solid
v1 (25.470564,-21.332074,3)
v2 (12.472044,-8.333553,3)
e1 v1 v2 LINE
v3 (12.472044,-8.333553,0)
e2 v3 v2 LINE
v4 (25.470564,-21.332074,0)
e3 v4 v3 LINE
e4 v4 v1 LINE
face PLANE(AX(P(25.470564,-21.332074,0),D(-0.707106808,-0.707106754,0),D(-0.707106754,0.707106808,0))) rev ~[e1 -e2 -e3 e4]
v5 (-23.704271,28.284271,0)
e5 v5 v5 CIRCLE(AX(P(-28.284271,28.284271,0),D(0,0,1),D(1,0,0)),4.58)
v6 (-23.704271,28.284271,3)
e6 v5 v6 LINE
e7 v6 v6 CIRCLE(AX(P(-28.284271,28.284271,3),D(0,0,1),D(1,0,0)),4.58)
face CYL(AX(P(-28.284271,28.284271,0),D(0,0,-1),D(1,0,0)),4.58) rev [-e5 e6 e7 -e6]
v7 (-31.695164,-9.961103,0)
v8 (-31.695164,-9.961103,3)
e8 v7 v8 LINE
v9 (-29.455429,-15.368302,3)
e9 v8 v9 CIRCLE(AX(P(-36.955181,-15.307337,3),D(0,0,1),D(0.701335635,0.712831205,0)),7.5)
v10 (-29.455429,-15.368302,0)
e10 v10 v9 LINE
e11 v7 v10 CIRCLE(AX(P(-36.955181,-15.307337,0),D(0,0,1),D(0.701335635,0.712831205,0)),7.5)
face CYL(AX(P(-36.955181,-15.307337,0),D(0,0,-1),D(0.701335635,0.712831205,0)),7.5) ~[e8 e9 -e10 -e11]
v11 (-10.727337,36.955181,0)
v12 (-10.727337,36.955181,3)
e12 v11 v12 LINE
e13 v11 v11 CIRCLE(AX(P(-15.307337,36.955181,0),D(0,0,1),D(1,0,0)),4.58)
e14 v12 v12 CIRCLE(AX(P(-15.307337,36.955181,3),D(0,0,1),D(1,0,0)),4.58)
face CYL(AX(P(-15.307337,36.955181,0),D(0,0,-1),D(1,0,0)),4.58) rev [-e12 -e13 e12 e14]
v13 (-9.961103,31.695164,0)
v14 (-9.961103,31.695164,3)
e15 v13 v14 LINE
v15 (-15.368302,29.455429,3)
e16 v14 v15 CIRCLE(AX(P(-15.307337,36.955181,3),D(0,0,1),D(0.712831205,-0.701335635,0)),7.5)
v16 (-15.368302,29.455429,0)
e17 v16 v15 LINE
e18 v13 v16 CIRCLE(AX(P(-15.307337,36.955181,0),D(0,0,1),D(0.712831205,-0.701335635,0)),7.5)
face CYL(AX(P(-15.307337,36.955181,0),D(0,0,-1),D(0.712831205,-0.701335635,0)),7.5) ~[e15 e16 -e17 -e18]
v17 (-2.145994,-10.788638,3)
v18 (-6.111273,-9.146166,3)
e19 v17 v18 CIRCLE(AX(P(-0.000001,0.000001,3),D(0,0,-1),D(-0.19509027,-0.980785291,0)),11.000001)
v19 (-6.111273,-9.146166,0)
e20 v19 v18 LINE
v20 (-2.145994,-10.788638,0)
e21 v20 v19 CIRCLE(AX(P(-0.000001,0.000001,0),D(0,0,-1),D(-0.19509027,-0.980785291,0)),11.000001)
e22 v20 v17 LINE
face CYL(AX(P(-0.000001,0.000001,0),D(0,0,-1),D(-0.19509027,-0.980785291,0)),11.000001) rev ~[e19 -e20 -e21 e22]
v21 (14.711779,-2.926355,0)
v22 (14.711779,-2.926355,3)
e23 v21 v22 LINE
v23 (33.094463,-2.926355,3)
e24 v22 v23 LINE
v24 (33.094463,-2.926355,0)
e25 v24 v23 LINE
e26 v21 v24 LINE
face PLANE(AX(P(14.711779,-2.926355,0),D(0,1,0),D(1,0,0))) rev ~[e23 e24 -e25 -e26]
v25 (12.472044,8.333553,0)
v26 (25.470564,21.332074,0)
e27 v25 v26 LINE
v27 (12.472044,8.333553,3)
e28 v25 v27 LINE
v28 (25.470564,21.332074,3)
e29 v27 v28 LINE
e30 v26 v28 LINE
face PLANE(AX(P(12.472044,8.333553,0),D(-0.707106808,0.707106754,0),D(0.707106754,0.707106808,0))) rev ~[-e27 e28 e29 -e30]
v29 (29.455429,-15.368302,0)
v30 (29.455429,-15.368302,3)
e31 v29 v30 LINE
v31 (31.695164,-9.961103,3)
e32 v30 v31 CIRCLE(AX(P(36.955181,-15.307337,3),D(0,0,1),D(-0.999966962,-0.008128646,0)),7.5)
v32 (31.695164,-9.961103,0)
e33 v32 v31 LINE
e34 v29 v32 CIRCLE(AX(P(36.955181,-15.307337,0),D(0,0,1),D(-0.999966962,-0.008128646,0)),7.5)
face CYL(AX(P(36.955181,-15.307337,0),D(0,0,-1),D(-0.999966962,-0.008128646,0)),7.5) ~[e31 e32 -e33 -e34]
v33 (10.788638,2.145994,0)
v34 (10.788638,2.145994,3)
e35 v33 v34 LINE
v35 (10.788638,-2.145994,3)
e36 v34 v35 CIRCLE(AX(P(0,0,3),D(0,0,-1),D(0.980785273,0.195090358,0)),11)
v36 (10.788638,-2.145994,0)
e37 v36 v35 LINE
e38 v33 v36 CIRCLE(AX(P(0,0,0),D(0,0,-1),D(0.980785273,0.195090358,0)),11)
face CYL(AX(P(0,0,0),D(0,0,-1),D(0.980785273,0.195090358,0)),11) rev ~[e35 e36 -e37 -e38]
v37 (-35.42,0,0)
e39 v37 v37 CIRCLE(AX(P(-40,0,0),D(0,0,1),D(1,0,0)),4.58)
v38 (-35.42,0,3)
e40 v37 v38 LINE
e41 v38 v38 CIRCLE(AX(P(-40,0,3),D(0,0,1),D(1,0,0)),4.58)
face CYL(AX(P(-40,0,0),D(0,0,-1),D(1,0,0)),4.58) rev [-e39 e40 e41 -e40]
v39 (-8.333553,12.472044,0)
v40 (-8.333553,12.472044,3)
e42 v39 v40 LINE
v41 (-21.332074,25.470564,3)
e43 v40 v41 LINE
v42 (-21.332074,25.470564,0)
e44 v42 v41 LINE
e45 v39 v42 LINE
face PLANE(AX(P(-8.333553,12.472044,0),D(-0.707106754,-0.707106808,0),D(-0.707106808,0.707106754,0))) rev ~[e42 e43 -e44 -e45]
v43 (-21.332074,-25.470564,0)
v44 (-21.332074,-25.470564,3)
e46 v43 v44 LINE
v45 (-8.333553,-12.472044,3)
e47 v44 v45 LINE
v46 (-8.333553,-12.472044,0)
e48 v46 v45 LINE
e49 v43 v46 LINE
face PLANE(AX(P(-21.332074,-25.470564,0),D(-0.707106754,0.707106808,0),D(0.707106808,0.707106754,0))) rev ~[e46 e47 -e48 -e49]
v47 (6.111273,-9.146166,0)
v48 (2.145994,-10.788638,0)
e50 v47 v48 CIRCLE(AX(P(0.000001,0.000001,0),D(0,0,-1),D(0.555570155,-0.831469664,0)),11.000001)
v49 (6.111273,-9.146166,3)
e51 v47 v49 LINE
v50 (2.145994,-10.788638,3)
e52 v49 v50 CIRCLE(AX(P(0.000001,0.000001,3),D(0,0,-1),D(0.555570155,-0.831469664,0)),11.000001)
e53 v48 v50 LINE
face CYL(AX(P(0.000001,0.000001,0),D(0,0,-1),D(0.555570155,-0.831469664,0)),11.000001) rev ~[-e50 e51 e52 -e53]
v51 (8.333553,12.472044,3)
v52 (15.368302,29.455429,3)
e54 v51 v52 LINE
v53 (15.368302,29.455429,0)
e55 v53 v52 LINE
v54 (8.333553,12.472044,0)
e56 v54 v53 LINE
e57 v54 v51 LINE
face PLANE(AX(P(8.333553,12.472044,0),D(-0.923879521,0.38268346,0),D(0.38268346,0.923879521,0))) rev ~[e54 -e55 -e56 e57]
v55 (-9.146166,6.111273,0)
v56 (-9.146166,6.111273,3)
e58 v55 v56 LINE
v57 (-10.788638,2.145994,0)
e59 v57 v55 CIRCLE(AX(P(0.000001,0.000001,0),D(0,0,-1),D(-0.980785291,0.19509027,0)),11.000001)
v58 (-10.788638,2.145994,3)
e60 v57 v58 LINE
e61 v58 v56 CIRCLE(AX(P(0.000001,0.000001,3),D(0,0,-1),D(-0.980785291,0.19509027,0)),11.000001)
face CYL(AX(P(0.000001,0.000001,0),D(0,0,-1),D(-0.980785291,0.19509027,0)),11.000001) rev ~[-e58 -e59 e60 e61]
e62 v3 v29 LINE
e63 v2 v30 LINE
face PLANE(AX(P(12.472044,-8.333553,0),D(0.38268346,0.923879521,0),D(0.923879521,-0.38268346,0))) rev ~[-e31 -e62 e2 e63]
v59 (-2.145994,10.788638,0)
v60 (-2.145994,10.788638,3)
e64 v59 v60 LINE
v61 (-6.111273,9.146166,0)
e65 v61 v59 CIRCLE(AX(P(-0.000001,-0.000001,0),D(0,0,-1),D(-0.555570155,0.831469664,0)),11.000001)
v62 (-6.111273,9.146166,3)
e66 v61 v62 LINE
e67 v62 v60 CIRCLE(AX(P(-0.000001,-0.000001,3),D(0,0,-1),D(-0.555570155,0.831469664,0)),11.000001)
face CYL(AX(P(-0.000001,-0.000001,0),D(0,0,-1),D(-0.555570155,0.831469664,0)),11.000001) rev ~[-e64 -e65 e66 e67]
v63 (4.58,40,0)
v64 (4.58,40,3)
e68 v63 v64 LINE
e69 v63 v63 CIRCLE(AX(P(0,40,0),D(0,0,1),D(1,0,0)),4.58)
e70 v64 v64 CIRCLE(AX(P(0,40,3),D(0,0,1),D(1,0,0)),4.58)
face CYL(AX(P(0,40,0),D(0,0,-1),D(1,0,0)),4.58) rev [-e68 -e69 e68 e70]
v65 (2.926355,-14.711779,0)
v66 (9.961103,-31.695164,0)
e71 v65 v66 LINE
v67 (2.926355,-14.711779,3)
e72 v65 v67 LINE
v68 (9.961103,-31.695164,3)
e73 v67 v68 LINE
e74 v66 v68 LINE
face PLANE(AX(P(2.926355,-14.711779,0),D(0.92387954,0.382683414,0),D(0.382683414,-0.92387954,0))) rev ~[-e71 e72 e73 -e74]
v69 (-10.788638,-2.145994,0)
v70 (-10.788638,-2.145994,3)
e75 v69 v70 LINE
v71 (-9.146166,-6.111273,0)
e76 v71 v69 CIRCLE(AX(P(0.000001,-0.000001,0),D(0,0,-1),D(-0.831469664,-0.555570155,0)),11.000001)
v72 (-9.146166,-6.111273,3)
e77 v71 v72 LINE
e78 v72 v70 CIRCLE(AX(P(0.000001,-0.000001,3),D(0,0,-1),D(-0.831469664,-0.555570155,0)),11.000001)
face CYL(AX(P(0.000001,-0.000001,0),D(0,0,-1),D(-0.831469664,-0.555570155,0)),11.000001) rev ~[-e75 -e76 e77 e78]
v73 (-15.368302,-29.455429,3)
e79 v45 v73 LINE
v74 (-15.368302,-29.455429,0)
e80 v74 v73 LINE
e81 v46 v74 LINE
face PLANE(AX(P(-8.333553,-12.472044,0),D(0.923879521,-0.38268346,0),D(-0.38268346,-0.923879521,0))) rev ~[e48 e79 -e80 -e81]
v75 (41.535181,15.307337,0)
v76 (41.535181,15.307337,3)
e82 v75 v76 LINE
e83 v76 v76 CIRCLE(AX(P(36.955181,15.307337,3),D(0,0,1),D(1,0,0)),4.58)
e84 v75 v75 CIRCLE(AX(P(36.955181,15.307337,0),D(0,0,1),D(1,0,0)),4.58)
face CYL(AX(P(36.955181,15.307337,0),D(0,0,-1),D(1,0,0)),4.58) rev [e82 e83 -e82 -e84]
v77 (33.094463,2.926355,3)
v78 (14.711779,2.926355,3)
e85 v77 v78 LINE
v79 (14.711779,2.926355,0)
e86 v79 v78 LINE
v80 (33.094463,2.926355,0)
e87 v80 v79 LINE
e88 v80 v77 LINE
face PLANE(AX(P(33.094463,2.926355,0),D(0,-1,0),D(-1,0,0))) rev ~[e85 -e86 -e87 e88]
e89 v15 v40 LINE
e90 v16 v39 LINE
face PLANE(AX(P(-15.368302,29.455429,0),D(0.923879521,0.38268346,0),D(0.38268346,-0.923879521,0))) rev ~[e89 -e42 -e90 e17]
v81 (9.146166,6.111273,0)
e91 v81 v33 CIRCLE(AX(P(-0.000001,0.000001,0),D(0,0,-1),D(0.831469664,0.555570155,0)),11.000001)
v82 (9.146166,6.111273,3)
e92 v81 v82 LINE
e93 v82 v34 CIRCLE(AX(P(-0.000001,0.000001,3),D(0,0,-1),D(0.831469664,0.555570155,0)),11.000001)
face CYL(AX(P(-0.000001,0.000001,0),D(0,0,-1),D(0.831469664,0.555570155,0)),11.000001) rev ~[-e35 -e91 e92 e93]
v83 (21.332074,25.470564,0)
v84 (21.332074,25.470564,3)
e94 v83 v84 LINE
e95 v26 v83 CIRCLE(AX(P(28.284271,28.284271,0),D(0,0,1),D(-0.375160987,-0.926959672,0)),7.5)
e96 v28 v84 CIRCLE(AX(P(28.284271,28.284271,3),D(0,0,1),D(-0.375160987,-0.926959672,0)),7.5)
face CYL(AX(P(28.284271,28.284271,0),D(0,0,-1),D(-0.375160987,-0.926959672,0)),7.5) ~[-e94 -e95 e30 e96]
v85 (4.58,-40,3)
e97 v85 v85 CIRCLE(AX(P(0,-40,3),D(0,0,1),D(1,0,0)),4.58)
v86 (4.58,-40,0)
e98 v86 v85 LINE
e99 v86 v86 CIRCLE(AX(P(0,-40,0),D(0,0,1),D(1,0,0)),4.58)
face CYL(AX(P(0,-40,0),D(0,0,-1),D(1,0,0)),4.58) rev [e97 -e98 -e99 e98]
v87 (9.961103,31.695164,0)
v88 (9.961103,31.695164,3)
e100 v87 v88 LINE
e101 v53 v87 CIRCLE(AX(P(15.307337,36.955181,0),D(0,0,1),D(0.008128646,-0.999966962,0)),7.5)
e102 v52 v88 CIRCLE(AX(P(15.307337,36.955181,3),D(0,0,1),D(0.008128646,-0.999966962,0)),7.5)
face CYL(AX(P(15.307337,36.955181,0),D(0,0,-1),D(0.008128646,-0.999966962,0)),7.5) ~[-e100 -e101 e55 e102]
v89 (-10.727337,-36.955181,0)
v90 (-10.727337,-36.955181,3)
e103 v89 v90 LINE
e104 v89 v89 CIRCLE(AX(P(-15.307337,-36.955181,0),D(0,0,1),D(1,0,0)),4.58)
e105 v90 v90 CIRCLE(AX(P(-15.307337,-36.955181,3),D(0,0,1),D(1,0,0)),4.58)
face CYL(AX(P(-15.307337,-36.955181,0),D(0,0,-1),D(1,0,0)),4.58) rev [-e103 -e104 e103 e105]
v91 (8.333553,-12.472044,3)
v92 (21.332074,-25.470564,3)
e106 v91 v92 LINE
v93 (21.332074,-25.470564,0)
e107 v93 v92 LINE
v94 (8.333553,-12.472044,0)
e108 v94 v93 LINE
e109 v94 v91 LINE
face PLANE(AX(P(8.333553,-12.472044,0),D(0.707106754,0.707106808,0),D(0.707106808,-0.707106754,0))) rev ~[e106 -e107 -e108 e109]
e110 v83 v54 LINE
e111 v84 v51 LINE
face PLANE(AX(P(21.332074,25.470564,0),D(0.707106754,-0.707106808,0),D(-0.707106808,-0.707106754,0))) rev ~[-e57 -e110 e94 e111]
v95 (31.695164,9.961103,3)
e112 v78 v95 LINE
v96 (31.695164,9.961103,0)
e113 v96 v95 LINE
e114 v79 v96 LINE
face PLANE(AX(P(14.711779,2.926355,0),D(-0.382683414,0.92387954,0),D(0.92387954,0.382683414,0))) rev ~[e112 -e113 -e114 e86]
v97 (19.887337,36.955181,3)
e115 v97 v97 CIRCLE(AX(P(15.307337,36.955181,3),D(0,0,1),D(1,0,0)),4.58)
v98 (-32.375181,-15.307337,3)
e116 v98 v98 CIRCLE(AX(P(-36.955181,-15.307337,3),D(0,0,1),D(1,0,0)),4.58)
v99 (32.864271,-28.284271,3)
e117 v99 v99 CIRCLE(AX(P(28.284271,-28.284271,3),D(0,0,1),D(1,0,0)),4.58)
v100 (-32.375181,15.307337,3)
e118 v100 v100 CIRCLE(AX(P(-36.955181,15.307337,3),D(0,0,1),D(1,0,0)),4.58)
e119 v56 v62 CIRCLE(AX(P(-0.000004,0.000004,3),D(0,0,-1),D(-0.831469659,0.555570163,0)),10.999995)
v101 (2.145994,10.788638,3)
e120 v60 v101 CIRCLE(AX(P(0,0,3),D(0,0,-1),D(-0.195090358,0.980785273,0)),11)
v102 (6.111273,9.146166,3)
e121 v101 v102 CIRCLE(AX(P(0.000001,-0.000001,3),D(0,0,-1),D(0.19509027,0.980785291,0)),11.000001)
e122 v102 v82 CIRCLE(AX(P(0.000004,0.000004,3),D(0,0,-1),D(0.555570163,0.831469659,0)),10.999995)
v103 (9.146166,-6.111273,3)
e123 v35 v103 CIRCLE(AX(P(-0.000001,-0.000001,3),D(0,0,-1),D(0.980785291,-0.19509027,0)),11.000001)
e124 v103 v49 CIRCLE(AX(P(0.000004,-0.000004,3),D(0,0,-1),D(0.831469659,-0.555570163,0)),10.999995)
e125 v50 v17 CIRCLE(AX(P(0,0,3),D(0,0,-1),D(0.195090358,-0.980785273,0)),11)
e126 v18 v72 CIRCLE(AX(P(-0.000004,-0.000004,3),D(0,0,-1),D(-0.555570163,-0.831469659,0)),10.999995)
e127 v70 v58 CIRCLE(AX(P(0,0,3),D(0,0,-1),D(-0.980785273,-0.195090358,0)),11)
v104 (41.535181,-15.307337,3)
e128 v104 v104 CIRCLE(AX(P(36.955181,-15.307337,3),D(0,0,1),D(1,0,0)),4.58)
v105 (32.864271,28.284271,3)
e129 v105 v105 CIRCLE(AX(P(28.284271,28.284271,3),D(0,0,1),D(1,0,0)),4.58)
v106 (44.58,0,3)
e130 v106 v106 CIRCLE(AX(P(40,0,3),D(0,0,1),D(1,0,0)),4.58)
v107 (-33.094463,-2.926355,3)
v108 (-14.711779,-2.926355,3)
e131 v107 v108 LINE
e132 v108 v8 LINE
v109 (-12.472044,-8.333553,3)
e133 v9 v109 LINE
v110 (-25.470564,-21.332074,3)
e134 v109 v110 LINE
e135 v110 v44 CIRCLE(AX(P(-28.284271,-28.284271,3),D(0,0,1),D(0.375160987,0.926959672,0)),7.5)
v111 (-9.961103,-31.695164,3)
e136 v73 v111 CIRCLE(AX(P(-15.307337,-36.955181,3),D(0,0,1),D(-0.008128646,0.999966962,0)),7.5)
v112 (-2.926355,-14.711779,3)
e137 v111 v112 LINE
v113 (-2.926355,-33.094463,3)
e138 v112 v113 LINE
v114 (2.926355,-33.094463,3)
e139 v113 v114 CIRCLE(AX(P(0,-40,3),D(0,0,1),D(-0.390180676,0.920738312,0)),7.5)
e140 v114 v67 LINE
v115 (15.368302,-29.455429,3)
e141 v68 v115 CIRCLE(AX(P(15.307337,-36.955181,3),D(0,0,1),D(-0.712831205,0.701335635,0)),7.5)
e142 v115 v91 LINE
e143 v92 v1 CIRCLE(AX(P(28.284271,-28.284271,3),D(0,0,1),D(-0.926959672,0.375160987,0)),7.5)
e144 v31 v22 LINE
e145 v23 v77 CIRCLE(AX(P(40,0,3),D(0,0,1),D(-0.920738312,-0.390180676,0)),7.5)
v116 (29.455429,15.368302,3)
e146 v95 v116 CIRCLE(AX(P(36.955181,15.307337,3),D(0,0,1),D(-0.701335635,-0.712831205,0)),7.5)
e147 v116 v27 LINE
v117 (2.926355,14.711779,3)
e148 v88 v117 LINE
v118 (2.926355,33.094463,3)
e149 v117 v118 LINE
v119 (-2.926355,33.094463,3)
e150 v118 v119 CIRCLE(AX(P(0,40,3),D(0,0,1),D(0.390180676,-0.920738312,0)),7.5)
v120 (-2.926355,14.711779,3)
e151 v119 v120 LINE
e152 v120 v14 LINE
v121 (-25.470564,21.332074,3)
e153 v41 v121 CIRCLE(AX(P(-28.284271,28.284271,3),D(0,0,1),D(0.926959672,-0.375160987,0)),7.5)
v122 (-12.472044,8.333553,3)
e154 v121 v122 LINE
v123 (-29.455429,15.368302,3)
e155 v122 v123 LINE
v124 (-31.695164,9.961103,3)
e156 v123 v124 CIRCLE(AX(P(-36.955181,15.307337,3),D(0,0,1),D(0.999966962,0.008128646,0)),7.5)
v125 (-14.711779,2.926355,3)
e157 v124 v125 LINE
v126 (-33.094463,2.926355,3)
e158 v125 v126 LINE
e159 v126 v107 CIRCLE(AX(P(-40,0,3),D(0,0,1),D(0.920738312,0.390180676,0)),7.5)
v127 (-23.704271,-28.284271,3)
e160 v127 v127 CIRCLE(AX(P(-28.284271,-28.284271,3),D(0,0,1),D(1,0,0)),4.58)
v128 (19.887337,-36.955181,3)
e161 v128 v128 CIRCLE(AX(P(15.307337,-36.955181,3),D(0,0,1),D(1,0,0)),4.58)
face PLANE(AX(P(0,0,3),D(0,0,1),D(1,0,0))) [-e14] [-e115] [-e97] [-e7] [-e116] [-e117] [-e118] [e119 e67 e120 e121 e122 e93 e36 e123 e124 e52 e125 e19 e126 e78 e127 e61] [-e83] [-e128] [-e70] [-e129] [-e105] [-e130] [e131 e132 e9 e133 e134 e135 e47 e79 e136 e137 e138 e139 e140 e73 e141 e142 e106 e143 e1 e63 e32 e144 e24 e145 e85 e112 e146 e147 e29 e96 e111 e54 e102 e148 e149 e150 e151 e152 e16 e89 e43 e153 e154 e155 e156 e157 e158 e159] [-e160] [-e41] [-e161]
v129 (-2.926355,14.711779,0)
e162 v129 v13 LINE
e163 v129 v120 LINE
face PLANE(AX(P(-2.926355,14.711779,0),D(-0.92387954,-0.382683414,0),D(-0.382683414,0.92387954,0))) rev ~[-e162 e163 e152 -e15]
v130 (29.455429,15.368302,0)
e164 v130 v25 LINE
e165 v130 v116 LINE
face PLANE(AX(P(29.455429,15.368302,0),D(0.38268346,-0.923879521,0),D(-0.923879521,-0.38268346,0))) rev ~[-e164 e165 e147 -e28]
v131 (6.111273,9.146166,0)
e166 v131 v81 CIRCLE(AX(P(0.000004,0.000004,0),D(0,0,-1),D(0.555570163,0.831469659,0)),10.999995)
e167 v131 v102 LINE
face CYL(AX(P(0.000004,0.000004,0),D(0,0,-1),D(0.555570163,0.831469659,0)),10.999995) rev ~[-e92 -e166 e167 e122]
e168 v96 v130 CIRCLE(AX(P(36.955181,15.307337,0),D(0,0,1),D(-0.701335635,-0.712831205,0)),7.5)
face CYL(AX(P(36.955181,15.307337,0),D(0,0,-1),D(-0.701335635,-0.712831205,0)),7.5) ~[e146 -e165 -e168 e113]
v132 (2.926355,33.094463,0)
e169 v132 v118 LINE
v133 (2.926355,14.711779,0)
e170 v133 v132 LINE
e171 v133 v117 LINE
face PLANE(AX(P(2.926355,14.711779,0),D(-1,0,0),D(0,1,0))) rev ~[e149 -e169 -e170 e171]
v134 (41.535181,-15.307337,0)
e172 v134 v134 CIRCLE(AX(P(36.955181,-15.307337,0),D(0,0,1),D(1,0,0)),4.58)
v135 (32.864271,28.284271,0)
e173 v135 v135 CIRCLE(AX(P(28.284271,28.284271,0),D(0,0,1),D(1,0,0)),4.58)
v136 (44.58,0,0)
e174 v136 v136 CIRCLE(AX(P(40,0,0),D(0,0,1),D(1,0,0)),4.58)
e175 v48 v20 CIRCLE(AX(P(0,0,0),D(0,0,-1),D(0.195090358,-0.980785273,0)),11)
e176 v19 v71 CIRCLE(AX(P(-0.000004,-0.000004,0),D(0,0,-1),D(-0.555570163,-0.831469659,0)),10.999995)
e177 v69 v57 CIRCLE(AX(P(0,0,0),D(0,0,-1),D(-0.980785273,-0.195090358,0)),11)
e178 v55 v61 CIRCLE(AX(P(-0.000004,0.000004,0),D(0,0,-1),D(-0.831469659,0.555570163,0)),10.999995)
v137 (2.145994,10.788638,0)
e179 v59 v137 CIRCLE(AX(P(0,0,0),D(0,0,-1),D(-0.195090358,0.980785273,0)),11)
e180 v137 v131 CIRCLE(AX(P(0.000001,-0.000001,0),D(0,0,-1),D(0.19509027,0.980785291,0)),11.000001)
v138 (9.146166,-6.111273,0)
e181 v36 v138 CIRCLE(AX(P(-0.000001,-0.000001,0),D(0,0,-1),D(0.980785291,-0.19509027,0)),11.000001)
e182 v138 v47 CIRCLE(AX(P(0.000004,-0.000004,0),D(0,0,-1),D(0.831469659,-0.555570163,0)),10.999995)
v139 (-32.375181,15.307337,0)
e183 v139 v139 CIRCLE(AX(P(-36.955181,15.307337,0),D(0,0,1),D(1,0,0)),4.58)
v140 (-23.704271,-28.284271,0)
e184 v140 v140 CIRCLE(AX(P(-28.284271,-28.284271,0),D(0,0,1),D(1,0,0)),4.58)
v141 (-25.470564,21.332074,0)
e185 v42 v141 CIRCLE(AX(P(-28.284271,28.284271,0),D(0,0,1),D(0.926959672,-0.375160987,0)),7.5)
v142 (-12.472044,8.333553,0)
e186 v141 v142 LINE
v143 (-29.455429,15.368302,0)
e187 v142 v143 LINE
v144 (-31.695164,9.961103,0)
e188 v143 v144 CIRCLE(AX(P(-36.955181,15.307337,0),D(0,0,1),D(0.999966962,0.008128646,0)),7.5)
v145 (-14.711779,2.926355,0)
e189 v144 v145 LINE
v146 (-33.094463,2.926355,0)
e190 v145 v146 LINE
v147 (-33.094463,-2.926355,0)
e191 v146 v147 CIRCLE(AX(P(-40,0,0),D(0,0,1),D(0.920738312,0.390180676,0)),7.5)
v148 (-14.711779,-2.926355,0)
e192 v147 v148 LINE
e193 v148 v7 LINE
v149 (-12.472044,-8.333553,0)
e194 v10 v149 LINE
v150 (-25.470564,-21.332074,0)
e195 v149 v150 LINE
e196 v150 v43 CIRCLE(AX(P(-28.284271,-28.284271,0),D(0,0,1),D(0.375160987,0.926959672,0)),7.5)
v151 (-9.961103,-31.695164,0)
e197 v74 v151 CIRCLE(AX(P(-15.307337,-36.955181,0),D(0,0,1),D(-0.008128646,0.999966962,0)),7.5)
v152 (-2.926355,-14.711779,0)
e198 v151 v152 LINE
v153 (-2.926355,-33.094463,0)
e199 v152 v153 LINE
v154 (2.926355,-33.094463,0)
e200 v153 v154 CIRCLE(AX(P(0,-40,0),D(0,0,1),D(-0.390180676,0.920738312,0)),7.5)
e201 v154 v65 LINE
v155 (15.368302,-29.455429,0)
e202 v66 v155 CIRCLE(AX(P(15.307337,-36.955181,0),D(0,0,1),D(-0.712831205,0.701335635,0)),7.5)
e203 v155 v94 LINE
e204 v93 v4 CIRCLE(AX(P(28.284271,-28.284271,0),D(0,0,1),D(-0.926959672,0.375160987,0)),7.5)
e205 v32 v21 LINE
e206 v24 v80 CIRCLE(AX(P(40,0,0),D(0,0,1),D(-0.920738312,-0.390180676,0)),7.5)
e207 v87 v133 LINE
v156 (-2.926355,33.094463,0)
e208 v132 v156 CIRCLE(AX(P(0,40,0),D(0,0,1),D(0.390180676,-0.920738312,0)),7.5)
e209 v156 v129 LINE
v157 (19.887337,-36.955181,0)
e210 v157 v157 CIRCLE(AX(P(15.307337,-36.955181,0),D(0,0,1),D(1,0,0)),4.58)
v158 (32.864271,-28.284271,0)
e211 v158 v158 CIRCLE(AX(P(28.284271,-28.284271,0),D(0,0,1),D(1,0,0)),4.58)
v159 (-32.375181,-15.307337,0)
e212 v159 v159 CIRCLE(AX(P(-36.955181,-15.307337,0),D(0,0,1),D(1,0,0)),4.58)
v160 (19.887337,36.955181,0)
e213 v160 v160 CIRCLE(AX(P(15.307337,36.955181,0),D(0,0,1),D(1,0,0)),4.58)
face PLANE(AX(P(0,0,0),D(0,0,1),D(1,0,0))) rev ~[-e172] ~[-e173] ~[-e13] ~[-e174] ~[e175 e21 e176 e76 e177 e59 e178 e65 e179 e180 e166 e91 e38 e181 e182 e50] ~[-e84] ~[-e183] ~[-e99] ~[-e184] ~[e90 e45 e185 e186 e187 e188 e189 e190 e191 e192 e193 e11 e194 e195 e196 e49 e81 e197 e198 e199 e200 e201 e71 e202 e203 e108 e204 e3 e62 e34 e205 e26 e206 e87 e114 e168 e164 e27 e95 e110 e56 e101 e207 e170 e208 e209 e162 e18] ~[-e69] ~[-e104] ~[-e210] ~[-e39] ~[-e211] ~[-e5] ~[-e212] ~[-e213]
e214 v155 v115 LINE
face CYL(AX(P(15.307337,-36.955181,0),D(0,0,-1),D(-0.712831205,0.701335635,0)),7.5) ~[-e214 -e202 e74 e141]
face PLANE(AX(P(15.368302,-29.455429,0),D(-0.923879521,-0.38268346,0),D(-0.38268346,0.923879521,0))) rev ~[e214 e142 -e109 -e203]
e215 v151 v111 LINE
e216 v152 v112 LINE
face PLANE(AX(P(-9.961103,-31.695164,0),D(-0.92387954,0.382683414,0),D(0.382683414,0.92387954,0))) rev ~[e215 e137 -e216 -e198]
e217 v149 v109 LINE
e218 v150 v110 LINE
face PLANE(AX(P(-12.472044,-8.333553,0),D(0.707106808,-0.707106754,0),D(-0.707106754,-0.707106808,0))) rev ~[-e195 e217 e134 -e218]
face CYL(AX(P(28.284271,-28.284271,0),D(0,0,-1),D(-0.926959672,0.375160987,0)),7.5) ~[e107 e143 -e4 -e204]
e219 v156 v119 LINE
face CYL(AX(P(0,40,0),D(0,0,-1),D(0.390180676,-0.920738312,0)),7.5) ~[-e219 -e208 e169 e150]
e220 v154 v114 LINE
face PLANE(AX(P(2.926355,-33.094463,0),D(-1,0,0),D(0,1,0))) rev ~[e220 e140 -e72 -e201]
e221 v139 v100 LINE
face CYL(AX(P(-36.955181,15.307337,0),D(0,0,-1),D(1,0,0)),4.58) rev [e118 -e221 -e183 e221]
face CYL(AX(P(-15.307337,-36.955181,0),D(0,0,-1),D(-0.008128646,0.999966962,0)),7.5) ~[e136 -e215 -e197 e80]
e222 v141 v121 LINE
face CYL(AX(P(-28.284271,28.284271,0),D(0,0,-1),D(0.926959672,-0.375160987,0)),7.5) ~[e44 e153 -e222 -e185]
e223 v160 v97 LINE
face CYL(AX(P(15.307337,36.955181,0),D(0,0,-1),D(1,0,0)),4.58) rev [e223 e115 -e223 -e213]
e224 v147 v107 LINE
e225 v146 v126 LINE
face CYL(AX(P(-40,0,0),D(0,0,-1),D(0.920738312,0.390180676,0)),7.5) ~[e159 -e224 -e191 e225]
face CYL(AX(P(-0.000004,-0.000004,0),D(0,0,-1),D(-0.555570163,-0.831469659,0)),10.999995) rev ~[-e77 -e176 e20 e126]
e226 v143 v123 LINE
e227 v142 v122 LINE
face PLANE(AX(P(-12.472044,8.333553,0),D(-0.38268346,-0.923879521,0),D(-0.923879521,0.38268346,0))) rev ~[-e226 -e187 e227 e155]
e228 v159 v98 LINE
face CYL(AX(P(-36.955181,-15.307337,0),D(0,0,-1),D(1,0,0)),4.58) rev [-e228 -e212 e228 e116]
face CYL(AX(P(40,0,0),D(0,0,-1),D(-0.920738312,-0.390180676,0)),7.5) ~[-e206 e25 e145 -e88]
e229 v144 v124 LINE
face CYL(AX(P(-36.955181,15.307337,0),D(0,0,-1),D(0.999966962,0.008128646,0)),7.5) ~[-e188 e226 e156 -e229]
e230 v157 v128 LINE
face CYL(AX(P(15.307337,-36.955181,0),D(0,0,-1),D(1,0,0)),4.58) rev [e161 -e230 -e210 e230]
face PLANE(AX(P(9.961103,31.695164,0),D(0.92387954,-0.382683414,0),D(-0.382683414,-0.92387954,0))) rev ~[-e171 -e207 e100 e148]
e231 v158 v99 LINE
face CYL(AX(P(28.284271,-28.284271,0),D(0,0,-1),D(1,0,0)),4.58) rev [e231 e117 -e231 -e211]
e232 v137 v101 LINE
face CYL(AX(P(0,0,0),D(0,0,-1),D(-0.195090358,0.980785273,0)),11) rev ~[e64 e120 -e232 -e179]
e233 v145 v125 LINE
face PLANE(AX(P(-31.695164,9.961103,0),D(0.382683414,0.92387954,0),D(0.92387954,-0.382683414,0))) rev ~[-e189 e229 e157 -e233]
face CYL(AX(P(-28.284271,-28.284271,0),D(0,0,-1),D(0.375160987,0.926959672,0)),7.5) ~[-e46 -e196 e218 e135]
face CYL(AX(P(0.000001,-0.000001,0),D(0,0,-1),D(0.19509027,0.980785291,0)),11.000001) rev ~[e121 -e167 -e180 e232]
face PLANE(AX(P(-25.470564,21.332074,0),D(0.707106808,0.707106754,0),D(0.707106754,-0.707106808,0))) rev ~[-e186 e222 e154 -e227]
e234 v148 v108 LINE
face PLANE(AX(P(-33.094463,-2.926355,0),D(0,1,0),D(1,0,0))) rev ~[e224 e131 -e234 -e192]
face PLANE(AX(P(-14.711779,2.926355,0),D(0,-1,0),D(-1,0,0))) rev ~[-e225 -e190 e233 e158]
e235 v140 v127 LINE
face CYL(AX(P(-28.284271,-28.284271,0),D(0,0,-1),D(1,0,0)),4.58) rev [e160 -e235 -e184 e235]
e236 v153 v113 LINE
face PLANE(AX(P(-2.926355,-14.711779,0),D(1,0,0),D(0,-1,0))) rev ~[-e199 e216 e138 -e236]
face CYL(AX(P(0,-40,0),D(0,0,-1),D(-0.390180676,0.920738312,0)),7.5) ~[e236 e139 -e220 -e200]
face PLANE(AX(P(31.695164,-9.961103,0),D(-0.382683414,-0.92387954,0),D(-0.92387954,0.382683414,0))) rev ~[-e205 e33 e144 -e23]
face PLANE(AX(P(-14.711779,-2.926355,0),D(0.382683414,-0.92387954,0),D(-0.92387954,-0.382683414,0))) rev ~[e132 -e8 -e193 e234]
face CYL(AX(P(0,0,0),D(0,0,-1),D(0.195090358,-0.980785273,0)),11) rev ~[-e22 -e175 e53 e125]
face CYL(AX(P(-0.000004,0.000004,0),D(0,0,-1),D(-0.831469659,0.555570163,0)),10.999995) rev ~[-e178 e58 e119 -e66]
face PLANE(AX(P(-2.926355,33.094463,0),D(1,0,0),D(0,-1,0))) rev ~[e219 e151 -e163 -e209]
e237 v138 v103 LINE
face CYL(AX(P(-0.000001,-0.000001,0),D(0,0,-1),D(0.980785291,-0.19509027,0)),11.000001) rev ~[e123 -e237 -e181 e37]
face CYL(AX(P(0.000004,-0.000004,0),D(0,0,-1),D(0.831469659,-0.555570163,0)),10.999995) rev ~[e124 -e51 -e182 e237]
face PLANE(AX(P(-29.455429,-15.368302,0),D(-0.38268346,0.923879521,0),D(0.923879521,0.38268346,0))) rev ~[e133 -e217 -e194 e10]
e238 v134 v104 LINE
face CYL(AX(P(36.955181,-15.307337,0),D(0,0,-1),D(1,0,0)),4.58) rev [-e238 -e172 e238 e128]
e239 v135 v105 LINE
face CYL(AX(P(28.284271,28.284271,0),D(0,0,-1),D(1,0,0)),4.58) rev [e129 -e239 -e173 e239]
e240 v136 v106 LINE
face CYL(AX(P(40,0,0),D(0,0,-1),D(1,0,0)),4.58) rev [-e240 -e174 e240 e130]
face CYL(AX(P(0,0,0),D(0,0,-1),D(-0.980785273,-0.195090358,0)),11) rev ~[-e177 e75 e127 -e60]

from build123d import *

# Parameters (mm, degrees)
F0_R     = 4.58
F1_DEPTH = 3


with BuildPart() as f1:
    # F0 (on Top) → F1 (new body)
    with BuildSketch(Plane.XY):
        with BuildLine():
            Line((14.711779, -2.926355), (33.094463, -2.926355))
            ThreePointArc((33.094463, -2.926355), (47.5, 0), (33.094463, 2.926355))
            Line((33.094463, 2.926355), (14.711779, 2.926355))
            Line((14.711779, 2.926355), (31.695164, 9.961103))
            ThreePointArc((31.695164, 9.961103), (43.884278, 18.177463), (29.455429, 15.368302))
            Line((29.455429, 15.368302), (12.472044, 8.333553))
            Line((12.472044, 8.333553), (25.470564, 21.332074))
            ThreePointArc((25.470564, 21.332074), (33.587572, 33.587572), (21.332074, 25.470564))
            Line((21.332074, 25.470564), (8.333553, 12.472044))
            Line((8.333553, 12.472044), (15.368302, 29.455429))
            ThreePointArc((15.368302, 29.455429), (18.177463, 43.884278), (9.961103, 31.695164))
            Line((9.961103, 31.695164), (2.926355, 14.711779))
            Line((2.926355, 14.711779), (2.926355, 33.094463))
            ThreePointArc((2.926355, 33.094463), (0, 47.5), (-2.926355, 33.094463))
            Line((-2.926355, 33.094463), (-2.926355, 14.711779))
            Line((-2.926355, 14.711779), (-9.961103, 31.695164))
            ThreePointArc((-9.961103, 31.695164), (-18.177463, 43.884278), (-15.368302, 29.455429))
            Line((-15.368302, 29.455429), (-8.333553, 12.472044))
            Line((-8.333553, 12.472044), (-21.332074, 25.470564))
            ThreePointArc((-21.332074, 25.470564), (-33.587572, 33.587572), (-25.470564, 21.332074))
            Line((-25.470564, 21.332074), (-12.472044, 8.333553))
            Line((-12.472044, 8.333553), (-29.455429, 15.368302))
            ThreePointArc((-29.455429, 15.368302), (-43.884278, 18.177463), (-31.695164, 9.961103))
            Line((-31.695164, 9.961103), (-14.711779, 2.926355))
            Line((-14.711779, 2.926355), (-33.094463, 2.926355))
            ThreePointArc((-33.094463, 2.926355), (-47.5, 0), (-33.094463, -2.926355))
            Line((-33.094463, -2.926355), (-14.711779, -2.926355))
            Line((-14.711779, -2.926355), (-31.695164, -9.961103))
            ThreePointArc((-31.695164, -9.961103), (-43.884278, -18.177463), (-29.455429, -15.368302))
            Line((-29.455429, -15.368302), (-12.472044, -8.333553))
            Line((-12.472044, -8.333553), (-25.470564, -21.332074))
            ThreePointArc((-25.470564, -21.332074), (-33.587572, -33.587572), (-21.332074, -25.470564))
            Line((-21.332074, -25.470564), (-8.333553, -12.472044))
            Line((-8.333553, -12.472044), (-15.368302, -29.455429))
            ThreePointArc((-15.368302, -29.455429), (-18.177463, -43.884278), (-9.961103, -31.695164))
            Line((-9.961103, -31.695164), (-2.926355, -14.711779))
            Line((-2.926355, -14.711779), (-2.926355, -33.094463))
            ThreePointArc((-2.926355, -33.094463), (0, -47.5), (2.926355, -33.094463))
            Line((2.926355, -33.094463), (2.926355, -14.711779))
            Line((2.926355, -14.711779), (9.961103, -31.695164))
            ThreePointArc((9.961103, -31.695164), (18.177463, -43.884278), (15.368302, -29.455429))
            Line((15.368302, -29.455429), (8.333553, -12.472044))
            Line((8.333553, -12.472044), (21.332074, -25.470564))
            ThreePointArc((21.332074, -25.470564), (33.587572, -33.587572), (25.470564, -21.332074))
            Line((25.470564, -21.332074), (12.472044, -8.333553))
            Line((12.472044, -8.333553), (29.455429, -15.368302))
            ThreePointArc((29.455429, -15.368302), (43.884278, -18.177463), (31.695164, -9.961103))
            Line((31.695164, -9.961103), (14.711779, -2.926355))
        make_face()
        with Locations((-28.284271, -28.284271)):
            Circle(F0_R, mode=Mode.SUBTRACT)
        with Locations((-15.307337, -36.955181)):
            Circle(F0_R, mode=Mode.SUBTRACT)
        with Locations((-36.955181, -15.307337)):
            Circle(F0_R, mode=Mode.SUBTRACT)
        with Locations((0, -40)):
            Circle(F0_R, mode=Mode.SUBTRACT)
        with Locations((15.307337, -36.955181)):
            Circle(F0_R, mode=Mode.SUBTRACT)
        with Locations((28.284271, -28.284271)):
            Circle(F0_R, mode=Mode.SUBTRACT)
        with Locations((36.955181, -15.307337)):
            Circle(F0_R, mode=Mode.SUBTRACT)
        with Locations((-40, 0)):
            Circle(F0_R, mode=Mode.SUBTRACT)
        with Locations((-36.955181, 15.307337)):
            Circle(F0_R, mode=Mode.SUBTRACT)
        with Locations((-28.284271, 28.284271)):
            Circle(F0_R, mode=Mode.SUBTRACT)
        with Locations((-15.307337, 36.955181)):
            Circle(F0_R, mode=Mode.SUBTRACT)
        with BuildLine():
            ThreePointArc((10.788638, 2.145994), (11, 0), (10.788638, -2.145994))
            ThreePointArc((10.788638, -2.145994), (10.162675, -4.209518), (9.146166, -6.111273))
            ThreePointArc((9.146166, -6.111273), (7.778175, -7.778175), (6.111273, -9.146166))
            ThreePointArc((6.111273, -9.146166), (4.209518, -10.162675), (2.145994, -10.788638))
            ThreePointArc((2.145994, -10.788638), (0, -11), (-2.145994, -10.788638))
            ThreePointArc((-2.145994, -10.788638), (-4.209518, -10.162675), (-6.111273, -9.146166))
            ThreePointArc((-6.111273, -9.146166), (-7.778175, -7.778175), (-9.146166, -6.111273))
            ThreePointArc((-9.146166, -6.111273), (-10.162675, -4.209518), (-10.788638, -2.145994))
            ThreePointArc((-10.788638, -2.145994), (-11, 0), (-10.788638, 2.145994))
            ThreePointArc((-10.788638, 2.145994), (-10.162675, 4.209518), (-9.146166, 6.111273))
            ThreePointArc((-9.146166, 6.111273), (-7.778175, 7.778175), (-6.111273, 9.146166))
            ThreePointArc((-6.111273, 9.146166), (-4.209518, 10.162675), (-2.145994, 10.788638))
            ThreePointArc((-2.145994, 10.788638), (0, 11), (2.145994, 10.788638))
            ThreePointArc((2.145994, 10.788638), (4.209518, 10.162675), (6.111273, 9.146166))
            ThreePointArc((6.111273, 9.146166), (7.778175, 7.778175), (9.146166, 6.111273))
            ThreePointArc((9.146166, 6.111273), (10.162675, 4.209518), (10.788638, 2.145994))
        make_face(mode=Mode.SUBTRACT)
        with Locations((40, 0)):
            Circle(F0_R, mode=Mode.SUBTRACT)
        with Locations((36.955181, 15.307337)):
            Circle(F0_R, mode=Mode.SUBTRACT)
        with Locations((0, 40)):
            Circle(F0_R, mode=Mode.SUBTRACT)
        with Locations((15.307337, 36.955181)):
            Circle(F0_R, mode=Mode.SUBTRACT)
        with Locations((28.284271, 28.284271)):
            Circle(F0_R, mode=Mode.SUBTRACT)
    extrude(amount=F1_DEPTH)


solid = f1.part
